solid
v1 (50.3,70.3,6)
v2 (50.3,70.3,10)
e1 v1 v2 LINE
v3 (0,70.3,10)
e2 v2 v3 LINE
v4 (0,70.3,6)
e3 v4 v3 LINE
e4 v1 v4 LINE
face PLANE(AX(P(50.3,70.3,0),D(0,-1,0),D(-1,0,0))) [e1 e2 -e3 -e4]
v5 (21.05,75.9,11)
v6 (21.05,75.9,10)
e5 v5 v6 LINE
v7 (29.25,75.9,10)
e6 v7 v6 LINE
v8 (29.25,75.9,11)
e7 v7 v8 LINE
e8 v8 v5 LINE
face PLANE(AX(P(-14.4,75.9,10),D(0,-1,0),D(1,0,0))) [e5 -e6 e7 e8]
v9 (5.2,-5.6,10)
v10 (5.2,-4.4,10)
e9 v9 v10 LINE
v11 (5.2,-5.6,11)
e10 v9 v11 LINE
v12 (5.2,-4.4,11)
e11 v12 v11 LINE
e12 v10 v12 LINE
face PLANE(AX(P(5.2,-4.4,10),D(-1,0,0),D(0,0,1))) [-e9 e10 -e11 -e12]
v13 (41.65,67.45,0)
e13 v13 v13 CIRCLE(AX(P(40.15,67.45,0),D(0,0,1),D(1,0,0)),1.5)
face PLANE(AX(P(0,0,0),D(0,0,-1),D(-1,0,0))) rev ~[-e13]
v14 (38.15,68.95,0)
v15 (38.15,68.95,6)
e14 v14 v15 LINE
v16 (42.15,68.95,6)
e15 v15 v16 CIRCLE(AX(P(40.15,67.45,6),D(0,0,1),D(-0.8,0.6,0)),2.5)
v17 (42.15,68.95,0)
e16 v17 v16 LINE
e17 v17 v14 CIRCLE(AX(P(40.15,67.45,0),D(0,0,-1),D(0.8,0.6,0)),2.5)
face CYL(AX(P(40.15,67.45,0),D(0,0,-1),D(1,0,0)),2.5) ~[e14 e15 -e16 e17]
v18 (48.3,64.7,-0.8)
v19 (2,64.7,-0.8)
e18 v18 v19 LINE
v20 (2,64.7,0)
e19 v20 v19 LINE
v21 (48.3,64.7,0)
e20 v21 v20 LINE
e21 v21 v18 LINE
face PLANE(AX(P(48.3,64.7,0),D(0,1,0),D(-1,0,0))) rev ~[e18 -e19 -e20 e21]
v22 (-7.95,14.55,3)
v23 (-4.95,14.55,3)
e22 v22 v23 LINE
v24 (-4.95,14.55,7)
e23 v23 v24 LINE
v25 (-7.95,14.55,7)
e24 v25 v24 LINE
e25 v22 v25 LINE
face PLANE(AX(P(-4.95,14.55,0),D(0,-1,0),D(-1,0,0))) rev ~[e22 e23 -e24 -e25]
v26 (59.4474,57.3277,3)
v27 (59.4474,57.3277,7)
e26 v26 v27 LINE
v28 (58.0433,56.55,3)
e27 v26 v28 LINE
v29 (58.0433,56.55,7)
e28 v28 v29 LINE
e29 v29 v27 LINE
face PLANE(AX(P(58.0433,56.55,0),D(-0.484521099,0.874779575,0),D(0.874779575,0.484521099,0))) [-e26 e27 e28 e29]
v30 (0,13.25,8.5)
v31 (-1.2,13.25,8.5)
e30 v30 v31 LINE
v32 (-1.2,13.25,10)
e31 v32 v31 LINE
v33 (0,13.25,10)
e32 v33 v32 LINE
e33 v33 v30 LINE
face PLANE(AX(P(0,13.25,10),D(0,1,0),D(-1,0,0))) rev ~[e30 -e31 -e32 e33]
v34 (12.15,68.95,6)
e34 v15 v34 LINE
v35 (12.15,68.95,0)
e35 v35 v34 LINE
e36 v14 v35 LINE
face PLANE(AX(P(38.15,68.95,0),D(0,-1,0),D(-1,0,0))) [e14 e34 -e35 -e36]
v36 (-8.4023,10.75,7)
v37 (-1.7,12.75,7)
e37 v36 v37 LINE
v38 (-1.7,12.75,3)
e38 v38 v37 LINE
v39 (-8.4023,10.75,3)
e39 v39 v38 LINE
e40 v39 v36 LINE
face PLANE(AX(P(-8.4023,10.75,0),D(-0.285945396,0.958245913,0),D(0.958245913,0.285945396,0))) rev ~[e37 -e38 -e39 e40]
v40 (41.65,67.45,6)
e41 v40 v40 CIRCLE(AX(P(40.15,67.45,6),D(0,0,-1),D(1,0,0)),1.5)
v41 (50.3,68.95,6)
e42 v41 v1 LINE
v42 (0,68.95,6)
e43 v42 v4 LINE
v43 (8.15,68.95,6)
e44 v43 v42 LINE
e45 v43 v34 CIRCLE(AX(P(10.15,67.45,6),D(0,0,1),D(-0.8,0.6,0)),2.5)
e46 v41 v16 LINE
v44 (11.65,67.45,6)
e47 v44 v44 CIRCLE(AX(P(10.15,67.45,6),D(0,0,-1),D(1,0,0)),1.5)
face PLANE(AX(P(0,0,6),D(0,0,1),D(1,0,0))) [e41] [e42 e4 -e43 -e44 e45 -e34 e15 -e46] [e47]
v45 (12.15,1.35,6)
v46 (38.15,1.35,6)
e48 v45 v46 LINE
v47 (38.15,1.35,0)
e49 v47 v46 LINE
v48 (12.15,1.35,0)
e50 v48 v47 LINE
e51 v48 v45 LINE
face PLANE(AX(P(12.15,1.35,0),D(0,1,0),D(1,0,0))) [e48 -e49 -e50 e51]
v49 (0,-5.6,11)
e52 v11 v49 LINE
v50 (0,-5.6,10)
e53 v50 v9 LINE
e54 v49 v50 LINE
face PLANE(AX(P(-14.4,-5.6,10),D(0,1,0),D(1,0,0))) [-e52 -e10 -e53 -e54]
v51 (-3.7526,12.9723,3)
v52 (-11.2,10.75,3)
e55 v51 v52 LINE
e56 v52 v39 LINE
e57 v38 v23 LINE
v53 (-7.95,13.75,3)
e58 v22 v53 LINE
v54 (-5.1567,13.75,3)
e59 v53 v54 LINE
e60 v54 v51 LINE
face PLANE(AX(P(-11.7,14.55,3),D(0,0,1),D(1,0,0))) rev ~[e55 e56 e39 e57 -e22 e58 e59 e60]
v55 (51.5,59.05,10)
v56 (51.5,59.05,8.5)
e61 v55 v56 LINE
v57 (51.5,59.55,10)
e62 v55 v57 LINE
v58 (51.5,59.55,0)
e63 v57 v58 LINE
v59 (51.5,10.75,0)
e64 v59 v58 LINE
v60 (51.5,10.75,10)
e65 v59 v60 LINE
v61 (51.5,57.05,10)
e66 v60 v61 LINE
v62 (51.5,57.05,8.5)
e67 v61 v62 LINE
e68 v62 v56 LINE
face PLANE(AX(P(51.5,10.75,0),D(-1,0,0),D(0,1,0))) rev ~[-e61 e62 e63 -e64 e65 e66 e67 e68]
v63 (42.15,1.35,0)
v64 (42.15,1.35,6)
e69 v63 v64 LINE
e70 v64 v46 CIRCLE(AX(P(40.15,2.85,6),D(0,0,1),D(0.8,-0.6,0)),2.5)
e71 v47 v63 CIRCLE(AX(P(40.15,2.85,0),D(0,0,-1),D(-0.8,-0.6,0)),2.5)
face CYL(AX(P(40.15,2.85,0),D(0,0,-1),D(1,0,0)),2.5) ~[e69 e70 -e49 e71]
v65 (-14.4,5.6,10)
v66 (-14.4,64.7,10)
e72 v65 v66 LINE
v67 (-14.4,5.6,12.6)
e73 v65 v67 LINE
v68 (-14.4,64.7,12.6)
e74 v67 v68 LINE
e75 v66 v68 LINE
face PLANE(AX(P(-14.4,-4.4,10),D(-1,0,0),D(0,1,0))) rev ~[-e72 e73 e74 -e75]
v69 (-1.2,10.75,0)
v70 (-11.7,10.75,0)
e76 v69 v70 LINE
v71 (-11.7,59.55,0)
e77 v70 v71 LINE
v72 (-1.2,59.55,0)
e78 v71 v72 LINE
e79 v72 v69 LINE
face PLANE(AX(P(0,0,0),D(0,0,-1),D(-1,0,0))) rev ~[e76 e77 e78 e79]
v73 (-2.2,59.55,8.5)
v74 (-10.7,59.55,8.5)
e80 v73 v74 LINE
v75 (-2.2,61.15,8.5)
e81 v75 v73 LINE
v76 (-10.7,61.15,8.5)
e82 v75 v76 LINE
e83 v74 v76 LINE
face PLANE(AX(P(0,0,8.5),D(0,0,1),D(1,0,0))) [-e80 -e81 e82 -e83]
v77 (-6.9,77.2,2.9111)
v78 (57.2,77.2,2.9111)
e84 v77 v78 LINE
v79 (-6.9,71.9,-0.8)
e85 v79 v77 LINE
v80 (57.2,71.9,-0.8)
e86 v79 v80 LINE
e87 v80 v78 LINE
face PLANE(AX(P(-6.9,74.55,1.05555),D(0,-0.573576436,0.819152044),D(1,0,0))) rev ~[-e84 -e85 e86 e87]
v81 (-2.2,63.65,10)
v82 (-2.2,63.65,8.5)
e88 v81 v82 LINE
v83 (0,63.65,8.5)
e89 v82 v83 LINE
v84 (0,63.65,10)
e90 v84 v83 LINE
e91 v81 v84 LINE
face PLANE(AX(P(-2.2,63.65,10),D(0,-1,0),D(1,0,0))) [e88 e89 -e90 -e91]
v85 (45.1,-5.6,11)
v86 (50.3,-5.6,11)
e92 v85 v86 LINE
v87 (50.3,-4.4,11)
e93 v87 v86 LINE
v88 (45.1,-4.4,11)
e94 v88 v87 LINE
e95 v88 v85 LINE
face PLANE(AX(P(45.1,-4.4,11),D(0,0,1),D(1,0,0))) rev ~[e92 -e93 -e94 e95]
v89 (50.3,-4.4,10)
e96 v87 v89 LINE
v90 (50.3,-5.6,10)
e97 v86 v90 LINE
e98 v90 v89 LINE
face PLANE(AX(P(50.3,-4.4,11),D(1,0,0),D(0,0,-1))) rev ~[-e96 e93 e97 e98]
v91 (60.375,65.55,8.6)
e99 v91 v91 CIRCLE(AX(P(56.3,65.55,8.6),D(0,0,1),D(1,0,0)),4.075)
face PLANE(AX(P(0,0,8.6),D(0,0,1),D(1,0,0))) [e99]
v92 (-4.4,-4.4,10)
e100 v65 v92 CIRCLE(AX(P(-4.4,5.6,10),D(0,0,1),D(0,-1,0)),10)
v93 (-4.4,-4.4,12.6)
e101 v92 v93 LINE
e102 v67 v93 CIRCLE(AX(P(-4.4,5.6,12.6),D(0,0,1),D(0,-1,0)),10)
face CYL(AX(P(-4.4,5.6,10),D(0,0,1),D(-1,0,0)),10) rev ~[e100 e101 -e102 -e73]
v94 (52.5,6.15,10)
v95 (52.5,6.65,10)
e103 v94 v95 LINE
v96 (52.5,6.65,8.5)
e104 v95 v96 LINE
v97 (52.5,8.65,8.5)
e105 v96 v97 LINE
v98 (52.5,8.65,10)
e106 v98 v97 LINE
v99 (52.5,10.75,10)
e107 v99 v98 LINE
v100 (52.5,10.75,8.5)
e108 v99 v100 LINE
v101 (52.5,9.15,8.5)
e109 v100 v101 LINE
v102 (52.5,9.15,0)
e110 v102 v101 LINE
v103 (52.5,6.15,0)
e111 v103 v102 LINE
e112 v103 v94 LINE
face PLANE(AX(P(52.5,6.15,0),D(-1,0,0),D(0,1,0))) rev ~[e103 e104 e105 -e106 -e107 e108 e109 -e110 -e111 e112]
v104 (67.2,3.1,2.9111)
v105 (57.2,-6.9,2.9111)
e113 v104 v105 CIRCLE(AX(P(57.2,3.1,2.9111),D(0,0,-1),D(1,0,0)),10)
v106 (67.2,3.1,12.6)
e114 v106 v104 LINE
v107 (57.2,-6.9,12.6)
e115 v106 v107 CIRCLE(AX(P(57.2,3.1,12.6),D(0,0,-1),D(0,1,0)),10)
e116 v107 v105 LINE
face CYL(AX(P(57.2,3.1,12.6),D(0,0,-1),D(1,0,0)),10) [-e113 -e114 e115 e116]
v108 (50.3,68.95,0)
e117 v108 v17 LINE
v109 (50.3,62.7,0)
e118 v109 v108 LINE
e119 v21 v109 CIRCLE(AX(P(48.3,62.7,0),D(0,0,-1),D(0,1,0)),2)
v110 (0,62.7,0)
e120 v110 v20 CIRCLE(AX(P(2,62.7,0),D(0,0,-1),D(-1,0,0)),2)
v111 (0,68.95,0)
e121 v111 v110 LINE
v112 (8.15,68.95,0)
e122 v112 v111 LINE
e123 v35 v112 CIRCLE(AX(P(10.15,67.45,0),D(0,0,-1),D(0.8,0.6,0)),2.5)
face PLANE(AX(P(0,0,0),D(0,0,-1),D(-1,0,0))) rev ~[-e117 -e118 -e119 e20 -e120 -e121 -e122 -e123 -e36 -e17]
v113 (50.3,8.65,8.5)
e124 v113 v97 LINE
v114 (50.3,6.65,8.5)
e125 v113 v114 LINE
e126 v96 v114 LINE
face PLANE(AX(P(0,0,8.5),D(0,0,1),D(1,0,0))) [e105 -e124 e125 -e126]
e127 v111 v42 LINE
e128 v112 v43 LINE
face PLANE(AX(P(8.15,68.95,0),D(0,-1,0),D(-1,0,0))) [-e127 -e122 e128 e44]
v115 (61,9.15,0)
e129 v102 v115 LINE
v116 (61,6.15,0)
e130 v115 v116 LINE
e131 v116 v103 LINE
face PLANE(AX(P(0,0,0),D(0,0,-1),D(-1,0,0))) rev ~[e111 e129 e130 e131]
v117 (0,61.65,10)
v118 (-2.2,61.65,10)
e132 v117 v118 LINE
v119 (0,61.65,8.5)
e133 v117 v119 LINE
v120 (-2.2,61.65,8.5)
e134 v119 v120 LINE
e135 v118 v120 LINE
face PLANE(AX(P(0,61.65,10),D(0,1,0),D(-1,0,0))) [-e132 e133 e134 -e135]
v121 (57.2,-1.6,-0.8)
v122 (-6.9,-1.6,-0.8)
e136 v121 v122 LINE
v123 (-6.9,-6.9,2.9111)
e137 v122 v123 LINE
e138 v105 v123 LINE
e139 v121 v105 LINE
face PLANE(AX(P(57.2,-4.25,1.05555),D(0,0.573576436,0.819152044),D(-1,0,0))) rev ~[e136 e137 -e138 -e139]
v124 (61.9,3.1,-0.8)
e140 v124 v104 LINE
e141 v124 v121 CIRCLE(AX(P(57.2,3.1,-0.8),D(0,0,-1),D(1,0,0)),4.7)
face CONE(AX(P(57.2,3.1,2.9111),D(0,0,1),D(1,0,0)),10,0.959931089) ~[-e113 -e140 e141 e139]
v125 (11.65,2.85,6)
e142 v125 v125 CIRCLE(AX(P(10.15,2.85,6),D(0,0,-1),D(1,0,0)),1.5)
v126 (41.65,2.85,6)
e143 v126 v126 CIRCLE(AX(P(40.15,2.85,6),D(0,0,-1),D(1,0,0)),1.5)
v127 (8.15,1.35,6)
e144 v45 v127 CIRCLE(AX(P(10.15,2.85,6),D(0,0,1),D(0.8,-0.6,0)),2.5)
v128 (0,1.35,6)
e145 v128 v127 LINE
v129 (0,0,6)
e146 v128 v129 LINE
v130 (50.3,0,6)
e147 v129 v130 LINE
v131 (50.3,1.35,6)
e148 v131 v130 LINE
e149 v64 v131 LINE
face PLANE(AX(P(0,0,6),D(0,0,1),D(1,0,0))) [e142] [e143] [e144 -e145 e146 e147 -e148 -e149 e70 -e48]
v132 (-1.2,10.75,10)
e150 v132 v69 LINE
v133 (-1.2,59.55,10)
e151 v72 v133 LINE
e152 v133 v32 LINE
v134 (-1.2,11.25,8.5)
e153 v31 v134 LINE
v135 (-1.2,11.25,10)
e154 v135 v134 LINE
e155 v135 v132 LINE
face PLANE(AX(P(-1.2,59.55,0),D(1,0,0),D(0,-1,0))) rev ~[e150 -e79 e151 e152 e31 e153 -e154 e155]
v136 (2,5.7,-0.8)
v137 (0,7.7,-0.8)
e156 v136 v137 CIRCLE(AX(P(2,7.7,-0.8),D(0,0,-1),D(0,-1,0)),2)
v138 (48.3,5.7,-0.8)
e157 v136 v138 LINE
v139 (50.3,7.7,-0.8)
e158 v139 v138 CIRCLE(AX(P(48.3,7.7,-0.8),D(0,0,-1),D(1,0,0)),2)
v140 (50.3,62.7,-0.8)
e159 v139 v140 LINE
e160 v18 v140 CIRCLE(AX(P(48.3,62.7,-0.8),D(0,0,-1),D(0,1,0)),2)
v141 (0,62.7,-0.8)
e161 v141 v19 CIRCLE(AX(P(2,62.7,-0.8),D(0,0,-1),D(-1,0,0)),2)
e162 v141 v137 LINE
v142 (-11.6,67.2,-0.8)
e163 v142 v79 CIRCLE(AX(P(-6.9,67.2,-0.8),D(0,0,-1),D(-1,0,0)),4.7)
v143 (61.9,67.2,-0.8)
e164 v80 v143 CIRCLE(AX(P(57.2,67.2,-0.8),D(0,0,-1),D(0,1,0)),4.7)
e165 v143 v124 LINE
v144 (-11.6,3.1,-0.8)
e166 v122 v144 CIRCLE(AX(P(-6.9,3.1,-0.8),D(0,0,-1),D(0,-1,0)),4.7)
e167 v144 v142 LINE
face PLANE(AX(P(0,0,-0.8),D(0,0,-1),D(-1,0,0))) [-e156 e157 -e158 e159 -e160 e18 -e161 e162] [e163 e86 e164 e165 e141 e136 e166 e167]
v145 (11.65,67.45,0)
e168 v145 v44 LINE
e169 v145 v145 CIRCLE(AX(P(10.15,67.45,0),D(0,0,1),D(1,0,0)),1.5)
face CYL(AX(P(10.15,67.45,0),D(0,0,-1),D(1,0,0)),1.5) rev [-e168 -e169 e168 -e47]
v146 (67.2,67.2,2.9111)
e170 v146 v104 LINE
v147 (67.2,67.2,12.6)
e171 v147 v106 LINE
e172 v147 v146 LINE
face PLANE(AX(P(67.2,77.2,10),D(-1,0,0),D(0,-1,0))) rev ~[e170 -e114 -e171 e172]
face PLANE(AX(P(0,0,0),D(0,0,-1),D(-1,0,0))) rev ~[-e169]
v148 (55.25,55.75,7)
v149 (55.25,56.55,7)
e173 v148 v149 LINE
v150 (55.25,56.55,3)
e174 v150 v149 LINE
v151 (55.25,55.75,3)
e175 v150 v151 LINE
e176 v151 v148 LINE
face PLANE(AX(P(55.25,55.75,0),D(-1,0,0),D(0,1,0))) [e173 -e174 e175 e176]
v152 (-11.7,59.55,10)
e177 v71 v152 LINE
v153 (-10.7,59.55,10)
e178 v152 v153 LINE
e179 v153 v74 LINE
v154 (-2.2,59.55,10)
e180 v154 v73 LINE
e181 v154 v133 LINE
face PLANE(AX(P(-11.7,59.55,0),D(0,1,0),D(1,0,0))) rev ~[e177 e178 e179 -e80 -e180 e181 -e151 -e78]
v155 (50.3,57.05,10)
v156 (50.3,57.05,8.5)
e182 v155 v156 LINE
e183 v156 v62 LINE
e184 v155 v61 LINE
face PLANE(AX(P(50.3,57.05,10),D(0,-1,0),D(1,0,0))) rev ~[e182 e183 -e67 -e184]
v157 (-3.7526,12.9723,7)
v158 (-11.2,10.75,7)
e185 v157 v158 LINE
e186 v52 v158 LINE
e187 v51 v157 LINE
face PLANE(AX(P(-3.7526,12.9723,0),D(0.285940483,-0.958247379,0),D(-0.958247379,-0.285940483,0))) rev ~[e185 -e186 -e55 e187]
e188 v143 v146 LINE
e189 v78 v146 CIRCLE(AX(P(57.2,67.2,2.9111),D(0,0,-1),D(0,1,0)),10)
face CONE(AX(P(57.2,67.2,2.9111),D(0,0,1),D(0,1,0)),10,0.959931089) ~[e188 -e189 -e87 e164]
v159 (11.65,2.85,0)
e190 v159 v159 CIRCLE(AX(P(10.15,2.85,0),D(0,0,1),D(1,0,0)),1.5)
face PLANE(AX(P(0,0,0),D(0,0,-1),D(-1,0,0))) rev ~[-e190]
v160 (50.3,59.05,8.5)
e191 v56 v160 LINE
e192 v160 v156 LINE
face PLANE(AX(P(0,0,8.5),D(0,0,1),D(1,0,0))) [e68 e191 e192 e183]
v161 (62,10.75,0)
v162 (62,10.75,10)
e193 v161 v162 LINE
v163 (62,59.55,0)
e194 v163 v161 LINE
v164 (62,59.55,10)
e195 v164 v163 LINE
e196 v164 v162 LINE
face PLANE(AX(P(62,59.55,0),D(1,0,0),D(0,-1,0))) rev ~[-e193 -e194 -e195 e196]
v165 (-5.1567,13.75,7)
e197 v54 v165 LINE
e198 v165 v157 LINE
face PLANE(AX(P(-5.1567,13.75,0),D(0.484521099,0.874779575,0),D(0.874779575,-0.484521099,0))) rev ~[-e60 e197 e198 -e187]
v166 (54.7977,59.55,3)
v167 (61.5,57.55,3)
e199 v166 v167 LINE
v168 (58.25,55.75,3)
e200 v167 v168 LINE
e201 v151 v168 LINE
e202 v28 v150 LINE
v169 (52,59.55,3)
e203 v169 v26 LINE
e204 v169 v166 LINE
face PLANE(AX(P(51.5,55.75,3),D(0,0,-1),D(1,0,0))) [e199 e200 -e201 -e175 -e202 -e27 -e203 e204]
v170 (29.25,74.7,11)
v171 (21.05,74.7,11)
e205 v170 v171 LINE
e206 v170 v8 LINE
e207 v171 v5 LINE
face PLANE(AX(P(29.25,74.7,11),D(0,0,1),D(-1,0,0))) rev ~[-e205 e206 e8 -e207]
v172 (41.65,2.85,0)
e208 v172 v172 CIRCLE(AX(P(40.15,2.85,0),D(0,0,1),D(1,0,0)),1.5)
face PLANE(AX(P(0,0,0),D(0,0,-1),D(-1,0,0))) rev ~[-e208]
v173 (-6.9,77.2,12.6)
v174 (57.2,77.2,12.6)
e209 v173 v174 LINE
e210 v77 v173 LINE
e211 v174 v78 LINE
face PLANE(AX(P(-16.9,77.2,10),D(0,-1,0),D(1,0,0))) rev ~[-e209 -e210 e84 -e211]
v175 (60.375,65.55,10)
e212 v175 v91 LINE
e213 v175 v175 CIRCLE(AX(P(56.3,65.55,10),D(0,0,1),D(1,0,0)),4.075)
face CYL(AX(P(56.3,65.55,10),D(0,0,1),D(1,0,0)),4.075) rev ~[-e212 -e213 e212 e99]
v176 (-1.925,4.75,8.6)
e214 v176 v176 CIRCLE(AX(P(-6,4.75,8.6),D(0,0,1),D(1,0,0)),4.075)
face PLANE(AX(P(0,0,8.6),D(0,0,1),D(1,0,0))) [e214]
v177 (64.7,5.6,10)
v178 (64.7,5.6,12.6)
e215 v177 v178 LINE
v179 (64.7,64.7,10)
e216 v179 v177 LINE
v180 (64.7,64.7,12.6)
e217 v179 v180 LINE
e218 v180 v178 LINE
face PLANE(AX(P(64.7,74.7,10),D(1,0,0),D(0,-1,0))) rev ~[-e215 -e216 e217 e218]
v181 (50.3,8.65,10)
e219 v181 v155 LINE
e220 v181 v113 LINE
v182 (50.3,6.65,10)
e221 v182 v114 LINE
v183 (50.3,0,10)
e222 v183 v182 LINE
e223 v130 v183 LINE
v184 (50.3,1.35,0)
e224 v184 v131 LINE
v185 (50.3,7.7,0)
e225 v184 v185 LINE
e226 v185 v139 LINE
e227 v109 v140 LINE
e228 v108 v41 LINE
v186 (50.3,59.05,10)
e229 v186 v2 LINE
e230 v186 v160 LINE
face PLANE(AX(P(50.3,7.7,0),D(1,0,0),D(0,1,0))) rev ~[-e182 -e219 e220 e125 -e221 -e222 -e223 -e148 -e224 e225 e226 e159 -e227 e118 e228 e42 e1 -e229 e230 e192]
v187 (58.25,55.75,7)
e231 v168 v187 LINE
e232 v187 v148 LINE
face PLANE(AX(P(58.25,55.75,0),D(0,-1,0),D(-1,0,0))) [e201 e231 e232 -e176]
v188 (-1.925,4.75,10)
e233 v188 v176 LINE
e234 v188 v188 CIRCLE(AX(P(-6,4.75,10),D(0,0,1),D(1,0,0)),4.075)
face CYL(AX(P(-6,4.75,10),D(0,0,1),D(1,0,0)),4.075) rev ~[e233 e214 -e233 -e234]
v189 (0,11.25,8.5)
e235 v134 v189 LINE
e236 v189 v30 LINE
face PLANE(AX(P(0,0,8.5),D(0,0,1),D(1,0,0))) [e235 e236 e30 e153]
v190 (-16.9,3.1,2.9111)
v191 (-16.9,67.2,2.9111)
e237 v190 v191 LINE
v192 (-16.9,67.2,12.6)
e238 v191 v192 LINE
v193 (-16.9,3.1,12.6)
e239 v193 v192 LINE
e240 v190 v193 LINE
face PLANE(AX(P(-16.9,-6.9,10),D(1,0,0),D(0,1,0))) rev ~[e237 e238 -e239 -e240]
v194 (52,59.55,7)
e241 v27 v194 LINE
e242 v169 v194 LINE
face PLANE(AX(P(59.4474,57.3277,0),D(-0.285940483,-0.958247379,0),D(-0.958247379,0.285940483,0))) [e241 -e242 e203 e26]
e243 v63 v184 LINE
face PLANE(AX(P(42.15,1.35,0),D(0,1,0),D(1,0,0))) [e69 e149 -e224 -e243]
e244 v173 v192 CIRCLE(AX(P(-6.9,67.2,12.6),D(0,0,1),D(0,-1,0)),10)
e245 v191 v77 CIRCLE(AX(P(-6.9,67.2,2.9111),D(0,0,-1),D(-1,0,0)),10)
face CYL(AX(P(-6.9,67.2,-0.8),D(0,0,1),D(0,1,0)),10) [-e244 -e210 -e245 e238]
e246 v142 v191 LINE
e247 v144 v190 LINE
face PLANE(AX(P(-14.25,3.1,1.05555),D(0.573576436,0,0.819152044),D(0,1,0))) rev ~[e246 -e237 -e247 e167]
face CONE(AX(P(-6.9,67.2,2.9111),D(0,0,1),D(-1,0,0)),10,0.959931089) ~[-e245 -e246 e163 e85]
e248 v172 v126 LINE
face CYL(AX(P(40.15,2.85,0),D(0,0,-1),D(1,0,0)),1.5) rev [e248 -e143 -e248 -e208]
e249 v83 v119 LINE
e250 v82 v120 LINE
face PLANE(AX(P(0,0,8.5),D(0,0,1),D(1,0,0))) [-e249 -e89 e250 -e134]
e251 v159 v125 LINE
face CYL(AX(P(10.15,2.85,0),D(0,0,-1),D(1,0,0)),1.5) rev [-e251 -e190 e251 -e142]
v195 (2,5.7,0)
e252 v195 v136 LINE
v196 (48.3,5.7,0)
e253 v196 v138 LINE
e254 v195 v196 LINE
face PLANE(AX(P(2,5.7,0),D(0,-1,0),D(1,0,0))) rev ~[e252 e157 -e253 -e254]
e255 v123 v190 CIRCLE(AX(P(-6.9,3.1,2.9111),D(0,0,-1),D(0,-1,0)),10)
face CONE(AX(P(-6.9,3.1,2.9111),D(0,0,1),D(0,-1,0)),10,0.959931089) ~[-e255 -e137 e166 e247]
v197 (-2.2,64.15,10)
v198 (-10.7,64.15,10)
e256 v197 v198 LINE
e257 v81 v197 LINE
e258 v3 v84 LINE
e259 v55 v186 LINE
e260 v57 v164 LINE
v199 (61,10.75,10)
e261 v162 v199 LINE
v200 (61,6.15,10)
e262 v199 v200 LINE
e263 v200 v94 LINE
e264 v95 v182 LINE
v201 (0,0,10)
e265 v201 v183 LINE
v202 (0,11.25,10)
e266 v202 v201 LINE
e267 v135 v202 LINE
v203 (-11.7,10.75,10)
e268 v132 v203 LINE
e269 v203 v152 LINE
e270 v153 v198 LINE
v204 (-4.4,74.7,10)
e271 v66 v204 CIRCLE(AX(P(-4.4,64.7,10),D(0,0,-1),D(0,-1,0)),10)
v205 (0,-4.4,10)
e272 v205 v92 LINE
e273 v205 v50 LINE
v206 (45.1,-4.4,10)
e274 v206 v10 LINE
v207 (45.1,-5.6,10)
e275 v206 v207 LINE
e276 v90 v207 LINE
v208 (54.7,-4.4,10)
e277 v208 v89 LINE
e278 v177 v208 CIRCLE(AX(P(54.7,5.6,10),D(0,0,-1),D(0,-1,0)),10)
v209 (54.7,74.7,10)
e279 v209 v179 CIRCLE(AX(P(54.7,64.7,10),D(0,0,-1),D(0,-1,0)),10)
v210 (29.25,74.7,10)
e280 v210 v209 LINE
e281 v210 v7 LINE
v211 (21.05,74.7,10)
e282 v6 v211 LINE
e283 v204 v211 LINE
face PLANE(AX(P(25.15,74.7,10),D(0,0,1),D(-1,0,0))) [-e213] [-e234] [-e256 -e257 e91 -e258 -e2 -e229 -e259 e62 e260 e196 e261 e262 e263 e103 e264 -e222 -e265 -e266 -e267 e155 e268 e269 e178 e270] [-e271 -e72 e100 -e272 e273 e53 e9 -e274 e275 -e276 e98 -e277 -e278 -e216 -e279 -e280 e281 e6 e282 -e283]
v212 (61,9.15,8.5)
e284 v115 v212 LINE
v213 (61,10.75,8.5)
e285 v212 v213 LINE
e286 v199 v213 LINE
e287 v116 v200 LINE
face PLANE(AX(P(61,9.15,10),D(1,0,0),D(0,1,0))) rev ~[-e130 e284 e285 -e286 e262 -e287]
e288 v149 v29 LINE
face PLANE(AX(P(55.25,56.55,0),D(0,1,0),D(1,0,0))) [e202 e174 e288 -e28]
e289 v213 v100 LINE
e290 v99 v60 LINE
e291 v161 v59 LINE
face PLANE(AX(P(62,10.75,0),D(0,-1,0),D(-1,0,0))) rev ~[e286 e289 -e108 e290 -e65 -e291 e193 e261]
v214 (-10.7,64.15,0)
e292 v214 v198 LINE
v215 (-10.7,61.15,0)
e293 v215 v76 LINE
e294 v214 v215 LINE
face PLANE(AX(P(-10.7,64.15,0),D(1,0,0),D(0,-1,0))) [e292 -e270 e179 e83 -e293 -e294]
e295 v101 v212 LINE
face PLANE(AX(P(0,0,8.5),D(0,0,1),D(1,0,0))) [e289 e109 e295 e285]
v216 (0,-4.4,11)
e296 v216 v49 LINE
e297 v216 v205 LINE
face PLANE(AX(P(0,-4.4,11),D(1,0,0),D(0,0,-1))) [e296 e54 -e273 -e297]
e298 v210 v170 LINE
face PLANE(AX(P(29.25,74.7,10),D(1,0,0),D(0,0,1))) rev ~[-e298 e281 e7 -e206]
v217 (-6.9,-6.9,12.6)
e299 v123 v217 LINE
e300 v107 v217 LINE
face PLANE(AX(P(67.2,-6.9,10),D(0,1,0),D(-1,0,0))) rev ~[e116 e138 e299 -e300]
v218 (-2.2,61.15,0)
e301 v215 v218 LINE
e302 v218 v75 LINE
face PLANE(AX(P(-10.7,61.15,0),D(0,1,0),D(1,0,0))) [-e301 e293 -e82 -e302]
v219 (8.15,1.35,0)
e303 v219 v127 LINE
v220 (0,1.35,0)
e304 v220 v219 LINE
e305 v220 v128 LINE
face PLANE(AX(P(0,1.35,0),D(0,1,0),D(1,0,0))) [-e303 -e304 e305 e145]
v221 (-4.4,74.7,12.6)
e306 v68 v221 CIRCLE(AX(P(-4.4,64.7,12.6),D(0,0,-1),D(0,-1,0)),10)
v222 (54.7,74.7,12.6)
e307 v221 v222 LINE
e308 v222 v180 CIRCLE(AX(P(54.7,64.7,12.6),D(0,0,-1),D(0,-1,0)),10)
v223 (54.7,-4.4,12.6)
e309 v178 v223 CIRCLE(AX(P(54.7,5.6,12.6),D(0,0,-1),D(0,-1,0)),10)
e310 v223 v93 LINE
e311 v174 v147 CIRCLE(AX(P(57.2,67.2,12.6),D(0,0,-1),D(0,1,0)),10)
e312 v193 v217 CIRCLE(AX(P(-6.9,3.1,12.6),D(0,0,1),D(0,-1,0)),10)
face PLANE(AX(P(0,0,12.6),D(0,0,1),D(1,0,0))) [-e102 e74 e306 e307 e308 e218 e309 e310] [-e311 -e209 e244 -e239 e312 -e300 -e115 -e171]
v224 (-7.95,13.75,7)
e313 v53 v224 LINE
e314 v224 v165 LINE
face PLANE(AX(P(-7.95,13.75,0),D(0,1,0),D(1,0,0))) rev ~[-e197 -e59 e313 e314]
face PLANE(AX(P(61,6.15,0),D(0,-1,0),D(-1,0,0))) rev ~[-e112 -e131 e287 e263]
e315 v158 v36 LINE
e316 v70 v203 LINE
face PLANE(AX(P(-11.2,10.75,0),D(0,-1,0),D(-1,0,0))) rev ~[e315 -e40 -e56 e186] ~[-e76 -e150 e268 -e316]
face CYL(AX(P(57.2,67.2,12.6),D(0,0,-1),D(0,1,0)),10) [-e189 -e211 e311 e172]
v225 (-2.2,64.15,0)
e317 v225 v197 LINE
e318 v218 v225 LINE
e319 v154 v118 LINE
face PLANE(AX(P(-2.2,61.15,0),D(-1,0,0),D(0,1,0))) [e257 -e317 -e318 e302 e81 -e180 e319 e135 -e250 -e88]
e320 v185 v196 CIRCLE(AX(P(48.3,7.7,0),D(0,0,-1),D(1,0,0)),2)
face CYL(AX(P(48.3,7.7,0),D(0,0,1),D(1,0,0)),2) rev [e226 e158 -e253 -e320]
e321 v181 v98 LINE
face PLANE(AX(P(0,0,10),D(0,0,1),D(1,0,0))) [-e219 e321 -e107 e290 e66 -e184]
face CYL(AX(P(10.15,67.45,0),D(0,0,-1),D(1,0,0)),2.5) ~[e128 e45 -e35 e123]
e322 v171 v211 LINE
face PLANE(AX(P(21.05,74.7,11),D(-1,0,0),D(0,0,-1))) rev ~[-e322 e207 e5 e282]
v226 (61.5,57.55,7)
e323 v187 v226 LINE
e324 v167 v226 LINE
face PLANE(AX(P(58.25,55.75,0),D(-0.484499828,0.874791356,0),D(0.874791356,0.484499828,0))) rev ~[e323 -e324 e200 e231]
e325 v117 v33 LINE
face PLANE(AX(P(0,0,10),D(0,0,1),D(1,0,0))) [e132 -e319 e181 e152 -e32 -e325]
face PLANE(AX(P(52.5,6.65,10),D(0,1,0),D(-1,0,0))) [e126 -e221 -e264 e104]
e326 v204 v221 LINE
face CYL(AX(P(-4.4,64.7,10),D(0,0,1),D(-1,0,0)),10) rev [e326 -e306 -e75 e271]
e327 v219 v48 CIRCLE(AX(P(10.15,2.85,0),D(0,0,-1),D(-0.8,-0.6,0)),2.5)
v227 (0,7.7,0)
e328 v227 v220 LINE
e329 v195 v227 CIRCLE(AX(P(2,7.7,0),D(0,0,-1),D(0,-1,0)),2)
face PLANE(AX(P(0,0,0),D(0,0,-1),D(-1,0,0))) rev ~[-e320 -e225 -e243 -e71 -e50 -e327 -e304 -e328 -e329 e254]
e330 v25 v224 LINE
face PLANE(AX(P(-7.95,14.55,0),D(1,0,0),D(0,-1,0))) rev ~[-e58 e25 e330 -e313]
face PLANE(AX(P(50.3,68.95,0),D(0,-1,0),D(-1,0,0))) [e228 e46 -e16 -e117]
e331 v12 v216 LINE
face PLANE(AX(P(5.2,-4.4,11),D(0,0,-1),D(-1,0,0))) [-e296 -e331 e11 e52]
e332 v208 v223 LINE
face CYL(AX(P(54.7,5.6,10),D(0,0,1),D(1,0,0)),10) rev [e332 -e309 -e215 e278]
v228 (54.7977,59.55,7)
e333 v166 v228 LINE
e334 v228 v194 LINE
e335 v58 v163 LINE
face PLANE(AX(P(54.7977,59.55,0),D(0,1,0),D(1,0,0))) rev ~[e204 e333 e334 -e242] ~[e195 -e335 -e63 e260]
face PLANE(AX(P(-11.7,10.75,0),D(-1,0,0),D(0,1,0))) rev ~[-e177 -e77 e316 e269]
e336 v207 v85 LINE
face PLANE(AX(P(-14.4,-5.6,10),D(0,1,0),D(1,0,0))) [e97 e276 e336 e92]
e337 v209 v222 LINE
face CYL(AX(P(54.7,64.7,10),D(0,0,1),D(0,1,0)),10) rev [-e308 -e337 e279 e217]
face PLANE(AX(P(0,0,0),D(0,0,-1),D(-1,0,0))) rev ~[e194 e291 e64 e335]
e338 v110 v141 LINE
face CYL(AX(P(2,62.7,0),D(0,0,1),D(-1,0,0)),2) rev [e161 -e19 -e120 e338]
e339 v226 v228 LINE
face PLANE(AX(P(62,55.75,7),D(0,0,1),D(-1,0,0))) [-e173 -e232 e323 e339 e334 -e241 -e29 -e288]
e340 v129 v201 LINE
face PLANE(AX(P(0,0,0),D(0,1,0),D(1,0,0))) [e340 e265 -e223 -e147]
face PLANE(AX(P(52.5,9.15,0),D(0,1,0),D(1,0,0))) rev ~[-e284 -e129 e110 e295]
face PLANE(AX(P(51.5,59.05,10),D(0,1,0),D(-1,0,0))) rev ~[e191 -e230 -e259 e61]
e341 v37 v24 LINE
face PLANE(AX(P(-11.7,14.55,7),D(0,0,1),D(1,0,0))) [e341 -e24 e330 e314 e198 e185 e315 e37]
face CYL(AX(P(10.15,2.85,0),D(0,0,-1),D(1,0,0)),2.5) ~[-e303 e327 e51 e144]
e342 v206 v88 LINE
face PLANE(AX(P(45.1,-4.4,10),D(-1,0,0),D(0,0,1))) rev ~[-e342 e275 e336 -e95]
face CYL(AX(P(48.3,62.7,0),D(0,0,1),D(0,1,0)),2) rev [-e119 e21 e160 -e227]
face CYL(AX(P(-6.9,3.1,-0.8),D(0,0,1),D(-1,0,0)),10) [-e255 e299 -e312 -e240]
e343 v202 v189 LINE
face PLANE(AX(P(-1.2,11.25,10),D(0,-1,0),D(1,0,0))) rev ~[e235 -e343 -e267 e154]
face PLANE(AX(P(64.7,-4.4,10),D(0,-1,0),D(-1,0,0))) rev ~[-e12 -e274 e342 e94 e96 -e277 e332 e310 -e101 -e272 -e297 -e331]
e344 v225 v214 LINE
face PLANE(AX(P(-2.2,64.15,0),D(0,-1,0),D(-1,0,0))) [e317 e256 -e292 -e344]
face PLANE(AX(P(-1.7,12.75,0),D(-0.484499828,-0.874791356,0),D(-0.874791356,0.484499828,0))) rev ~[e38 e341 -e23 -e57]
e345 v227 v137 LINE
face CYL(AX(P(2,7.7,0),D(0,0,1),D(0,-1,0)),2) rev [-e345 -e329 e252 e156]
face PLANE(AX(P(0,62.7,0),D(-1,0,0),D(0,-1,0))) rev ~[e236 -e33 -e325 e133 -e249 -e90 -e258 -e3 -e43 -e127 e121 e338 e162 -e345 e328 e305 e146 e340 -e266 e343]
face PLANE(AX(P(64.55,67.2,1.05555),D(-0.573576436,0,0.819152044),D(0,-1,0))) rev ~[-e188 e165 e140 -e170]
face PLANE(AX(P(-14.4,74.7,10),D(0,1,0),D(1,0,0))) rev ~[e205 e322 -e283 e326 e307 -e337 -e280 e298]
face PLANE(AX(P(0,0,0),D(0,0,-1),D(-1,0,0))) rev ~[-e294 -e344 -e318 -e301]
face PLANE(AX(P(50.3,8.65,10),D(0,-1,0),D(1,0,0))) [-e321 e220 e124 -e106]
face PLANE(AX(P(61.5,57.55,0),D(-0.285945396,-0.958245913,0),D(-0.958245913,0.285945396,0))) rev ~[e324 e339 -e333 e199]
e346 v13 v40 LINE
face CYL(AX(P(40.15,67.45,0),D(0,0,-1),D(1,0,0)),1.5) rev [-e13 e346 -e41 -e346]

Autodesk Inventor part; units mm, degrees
ref_plane "YZ Plane" through (0, 0, 0) normal (1, 0, 0) x (0, 1, 0)
ref_plane "XZ Plane" through (0, 0, 0) normal (0, 1, 0) x (-1, 0, 0)
ref_plane "XY Plane" through (0, 0, 0) normal (0, 0, 1) x (1, 0, 0)
sketch "Skizze1" plane through (0, 0, 0) normal (0, 0, 1) x (1, 0, 0)
  line L0 (0, 0) -> (50.3, 0)
  line L1 (50.3, 0) -> (50.3, 70.3)
  line L2 (50.3, 70.3) -> (0, 70.3)
  line L3 (0, 70.3) -> (0, 0)
  line L4 (-15, 75.3) -> (65.3, 75.3)
  line L5 (65.3, 75.3) -> (65.3, -5)
  line L6 (65.3, -5) -> (-15, -5)
  line L7 (-15, -5) -> (-15, 75.3)
  line L8 (-11.7, 59.55) -> (-1.2, 59.55)
  line L9 (-1.2, 59.55) -> (-1.2, 10.75)
  line L10 (-1.2, 10.75) -> (-11.7, 10.75)
  line L11 (-11.7, 10.75) -> (-11.7, 59.55)
  line L12 (51.5, 59.55) -> (62, 59.55)
  line L13 (62, 59.55) -> (62, 10.75)
  line L14 (62, 10.75) -> (51.5, 10.75)
  line L15 (51.5, 10.75) -> (51.5, 59.55)
  line L16 (-6.45, 59.55) -> (-6.45, 75.3) construction
  line L17 (-6.45, 10.75) -> (-6.45, -5) construction
  line L18 (56.75, 59.55) -> (56.75, 75.3) construction
  line L19 (56.75, 10.75) -> (56.75, -5) construction
  line L20 (-11.7, 35.15) -> (-15, 35.15) construction
  line L21 (62, 35.15) -> (65.3, 35.15) construction
  line L22 (-8.4023, 10.75) -> (-1.7, 12.75)
  line L23 (-1.7, 12.75) -> (-4.95, 14.55)
  line L24 (-4.95, 14.55) -> (-7.95, 14.55)
  line L25 (-7.95, 14.55) -> (-7.95, 13.75)
  line L26 (-7.95, 13.75) -> (-5.1567, 13.75)
  line L27 (-5.1567, 13.75) -> (-3.7526, 12.9723)
  line L28 (-3.7526, 12.9723) -> (-11.2, 10.75)
  line L29 (58.25, 55.75) -> (55.25, 55.75)
  line L30 (55.25, 55.75) -> (55.25, 56.55)
  line L31 (55.25, 56.55) -> (58.0433, 56.55)
  line L32 (61.5, 57.55) -> (54.7977, 59.55)
  line L33 (59.4474, 57.3277) -> (52, 59.55)
  line L34 (58.0433, 56.55) -> (59.4474, 57.3277)
  line L35 (58.25, 55.75) -> (61.5, 57.55)
  line L36 (-10.7, 61.15) -> (-2.2, 61.15)
  line L37 (-2.2, 61.15) -> (-2.2, 64.15)
  line L38 (-2.2, 64.15) -> (-10.7, 64.15)
  line L39 (-10.7, 64.15) -> (-10.7, 61.15)
  line L40 (61, 6.15) -> (52.5, 6.15)
  line L41 (52.5, 6.15) -> (52.5, 9.15)
  line L42 (52.5, 9.15) -> (61, 9.15)
  line L43 (61, 9.15) -> (61, 6.15)
  dimension "d0" = 50.3
  dimension "d1" = 70.3
  dimension "d2" = 5
  dimension "d3" = 5
  dimension "d4" = 10.5
  dimension "d5" = 10.5
  dimension "d6" = 48.8
  dimension "d7" = 48.8
  dimension "d8" = 1.2
  dimension "d9" = 1.2
  dimension "d11" = 0.8
  dimension "d12" = 0.8
  dimension "d13" = 0.8
  dimension "d14" = 3
  dimension "d15" = 3.75
  dimension "d16" = 2
  dimension "d17" = 3
  dimension "d18" = 0.5
  dimension "d19" = 0.5
  dimension "d20" = 0.8
  dimension "d22" = 0.5
  dimension "d23" = 3
  dimension "d26" = 3.75
  dimension "d27" = 2
  dimension "d28" = 0.5
  dimension "d30" = 3
  dimension "d31" = 0.8
  dimension "d32" = 0.8
  dimension "d33" = 1.6
  dimension "d34" = 1
  dimension "d35" = 1
  dimension "d36" = 3
  dimension "d37" = 3
  dimension "d38" = 1
  dimension "d39" = 1
  dimension "d40" = 1.6
extrude "Extrusion1" add sketch "Skizze1" along normal blind 10 contours L4 L5 L6 L7 | L28 L27 L26 L25 L24 L23 L22 L10 | L12 L32 L35 L29 L30 L31 L34 L33
sketch "Skizze2" plane through (0, 0, 0) normal (0, 0, -1) x (-1, 0, 0)
  line L0 (-65.3, 75.3) -> (15, 75.3) projected
  line L1 (15, 75.3) -> (15, -5) projected
  line L2 (-65.3, 75.3) -> (15, 75.3)
  line L3 (15, 75.3) -> (15, -5)
  line L4 (15, -5) -> (-65.3, -5)
  line L5 (-65.3, -5) -> (-65.3, 75.3)
  line L6 (0, 70.3) -> (0, 0) projected
  line L7 (-48.3, 64.7) -> (-2, 64.7)
  line L8 (0, 62.7) -> (0, 7.7)
  line L9 (-2, 5.7) -> (-48.3, 5.7)
  line L10 (-50.3, 7.7) -> (-50.3, 62.7)
  line L11 (-50.3, 70.3) -> (0, 70.3) projected
  line L12 (-50.3, 0) -> (-50.3, 70.3) construction
  arc A0 (-48.3, 64.7) -> (-50.3, 62.7) centre (-48.3, 62.7) ccw
  arc A1 (0, 62.7) -> (-2, 64.7) centre (-2, 62.7) ccw
  arc A2 (-50.3, 7.7) -> (-48.3, 5.7) centre (-48.3, 7.7) ccw
  arc A3 (-2, 5.7) -> (0, 7.7) centre (-2, 7.7) ccw
  point P0 (-50.3, 64.7)
  point P1 (0, 5.7)
  dimension "d43" = 5.6
  dimension "d44" = 59
  dimension "d45" = 2
extrude "Extrusion2" add sketch "Skizze2" along normal blind 0.8
sketch "Skizze7" plane through (0, 0, 10) normal (0, 0, 1) x (1, 0, 0)
  circle A0 centre (-6, 4.75) radius 4.075
  circle A1 centre (56.3, 65.55) radius 4.075
  line L0 (0, 0) -> (0, 70.3) projected
  line L1 (-1.2, 10.75) -> (-8.4023, 10.75) projected
  line L2 (50.3, 70.3) -> (50.3, 0) projected
  line L3 (54.7977, 59.55) -> (62, 59.55) projected
  dimension "d80" = 8.15
  dimension "d81" = 8.15
  dimension "d82" = 6
  dimension "d83" = 6
  dimension "d84" = 6
  dimension "d85" = 6
extrude "Extrusion7" cut sketch "Skizze7" against normal blind 1.4
sketch "Skizze8" plane through (55.25, 55.75, 10) normal (0, -1, 0) x (1, 0, 0)
  line L0 (-3.75, -10) -> (-3.75, 0) projected
  line L1 (6.75, -10) -> (-3.75, -10)
  line L2 (-3.75, -10) -> (-3.75, -7)
  line L3 (-3.75, -7) -> (6.75, -7)
  line L4 (6.75, -7) -> (6.75, -10)
  line L5 (-3.75, 0) -> (6.75, 0)
  line L6 (6.75, 0) -> (6.75, -3)
  line L7 (6.75, -3) -> (-3.75, -3)
  line L8 (-3.75, -3) -> (-3.75, 0)
  point P0 (-55.25, -10)
  dimension "d88" = 3
  dimension "d89" = 3
extrude "Extrusion8" cut sketch "Skizze8" against normal blind 3.8
sketch "Skizze9" plane through (-7.95, 14.55, 10) normal (0, 1, 0) x (1, 0, 0)
  line L0 (-3.75, 10) -> (-3.75, 0) projected
  line L1 (6.75, 10) -> (-3.75, 10)
  line L2 (-3.75, 10) -> (-3.75, 7)
  line L3 (-3.75, 7) -> (6.75, 7)
  line L4 (6.75, 7) -> (6.75, 10)
  line L5 (6.75, 0) -> (-3.75, 0)
  line L6 (-3.75, 0) -> (-3.75, 3)
  line L7 (-3.75, 3) -> (6.75, 3)
  line L8 (6.75, 3) -> (6.75, 0)
  point P0 (7.95, 10)
  dimension "d92" = 3
  dimension "d93" = 3
extrude "Extrusion9" cut sketch "Skizze9" against normal blind 3.8
sketch "Skizze10" plane through (0, 0, 10) normal (0, 0, 1) x (1, 0, 0)
  line L0 (52.5, 9.15) -> (61, 9.15) projected
  line L1 (62, 10.75) -> (51.5, 10.75) projected
  line L2 (52.5, 9.15) -> (61, 9.15)
  line L3 (61, 9.15) -> (61, 10.75)
  line L4 (61, 10.75) -> (52.5, 10.75)
  line L5 (52.5, 10.75) -> (52.5, 9.15)
  line L6 (52.5, 6.15) -> (52.5, 9.15) projected
  line L7 (50.3, 70.3) -> (50.3, 0) projected
  line L8 (52.5, 6.65) -> (50.3, 6.65)
  line L9 (50.3, 6.65) -> (50.3, 8.65)
  line L10 (50.3, 8.65) -> (52.5, 8.65)
  line L11 (52.5, 8.65) -> (52.5, 6.65)
  line L12 (51.5, 10.75) -> (51.5, 59.55) projected
  line L13 (51.5, 59.05) -> (50.3, 59.05)
  line L14 (50.3, 59.05) -> (50.3, 57.05)
  line L15 (50.3, 57.05) -> (51.5, 57.05)
  line L16 (51.5, 57.05) -> (51.5, 59.05)
  line L17 (51.5, 59.55) -> (62, 59.55) projected
  line L18 (-1.2, 59.55) -> (-1.2, 10.75) projected
  line L19 (-1.2, 11.25) -> (0, 11.25)
  line L20 (0, 11.25) -> (0, 13.25)
  line L21 (0, 13.25) -> (-1.2, 13.25)
  line L22 (-1.2, 13.25) -> (-1.2, 11.25)
  line L23 (-1.2, 10.75) -> (-11.7, 10.75) projected
  line L24 (0, 0) -> (0, 70.3) construction
  line L25 (-2.2, 61.15) -> (-10.7, 61.15) projected
  line L26 (-10.7, 61.15) -> (-2.2, 61.15)
  line L27 (-2.2, 61.15) -> (-2.2, 59.55)
  line L28 (-2.2, 59.55) -> (-10.7, 59.55)
  line L29 (-10.7, 59.55) -> (-10.7, 61.15)
  line L30 (-2.2, 64.15) -> (-2.2, 61.15) projected
  line L31 (-2.2, 63.65) -> (0, 63.65)
  line L32 (0, 63.65) -> (0, 61.65)
  line L33 (0, 61.65) -> (-2.2, 61.65)
  line L34 (-2.2, 61.65) -> (-2.2, 63.65)
  dimension "d96" = 8.5
  dimension "d97" = 0.5
  dimension "d98" = 0.5
  dimension "d99" = 2
  dimension "d100" = 0.5
  dimension "d101" = 2
  dimension "d102" = 0.5
  dimension "d103" = 1.6
  dimension "d104" = 8.5
  dimension "d105" = 2
  dimension "d106" = 0.5
extrude "Extrusion10" cut sketch "Skizze10" against normal blind 1.5 contours L5 L1 L3 L0 | L6 L8 L7 L10 | L15 L7 L13 L12 | L21 L20 L19 L18 | L27 L28 L29 L25 | L30 L31 L32 L33
sketch "Skizze12" plane through (0, 0, 10) normal (0, 0, 1) x (1, 0, 0)
  line L0 (-15, -5) -> (65.3, -5)
  line L1 (65.3, -5) -> (65.3, 75.3)
  line L2 (65.3, 75.3) -> (-15, 75.3)
  line L3 (-15, 75.3) -> (-15, -5)
  line L4 (-15, 75.3) -> (-15, -5) projected
  line L5 (50.3, 57.05) -> (50.3, 8.65) projected
  line L6 (48.3, 5.7) -> (2, 5.7) projected
  line L7 (2, 64.7) -> (48.3, 64.7) projected
  line L8 (0, 0) -> (0, 11.25) projected
  line L9 (-11.7, 59.55) -> (-11.7, 10.75) projected
  line L10 (0, 0) -> (50.3, 0) projected
  line L11 (62, 59.55) -> (62, 10.75) projected
  line L12 (0, 70.3) -> (50.3, 70.3) projected
  line L13 (-16.9, 77.2) -> (67.2, 77.2)
  line L14 (67.2, 77.2) -> (67.2, -6.9)
  line L15 (67.2, -6.9) -> (-16.9, -6.9)
  line L16 (-16.9, -6.9) -> (-16.9, 77.2)
  line L17 (-14.4, 74.7) -> (64.7, 74.7)
  line L18 (64.7, 74.7) -> (64.7, -4.4)
  line L19 (64.7, -4.4) -> (-14.4, -4.4)
  line L20 (-14.4, -4.4) -> (-14.4, 74.7)
  point P0 (35.15, 0)
  point P1 (45.3, 70.3)
  dimension "d124" = 1.9
  dimension "d125" = 0.6
extrude "Extrusion12" add sketch "Skizze12" along normal blind 2.6 contours L3 L2 L1 L0 | L13 L14 L15 L16
sketch "Skizze13" plane through (-14.4, -4.4, 10) normal (0, 1, 0) x (1, 0, 0)
  line L0 (64.7, 10) -> (64.7, 0) projected
  line L1 (64.7, 0) -> (59.5, 0)
  line L2 (59.5, 0) -> (59.5, -1)
  line L3 (59.5, -1) -> (64.7, -1)
  line L4 (64.7, -1) -> (64.7, 0)
  line L5 (14.4, 10) -> (14.4, 0) projected
  line L6 (14.4, 0) -> (19.6, 0)
  line L7 (19.6, 0) -> (19.6, -1)
  line L8 (19.6, -1) -> (14.4, -1)
  line L9 (14.4, -1) -> (14.4, 0)
  dimension "d126" = 5.2
  dimension "d127" = 1
  dimension "d128" = 5.2
  dimension "d129" = 1
extrude "Extrusion13" cut sketch "Skizze13" against normal blind 1.2
sketch "Skizze14" plane through (-14.4, 74.7, 10) normal (0, -1, 0) x (1, 0, 0)
  line L0 (79.1, 0) -> (0, 0) projected
  line L1 (39.55, 0) -> (43.65, 0)
  line L2 (43.65, 0) -> (43.65, 1)
  line L3 (0, 2.6) -> (79.1, 2.6) projected
  line L4 (43.65, 1) -> (35.45, 1)
  line L5 (35.45, 1) -> (35.45, 0)
  line L6 (-2.5, 0) -> (81.6, 0) projected
  line L7 (35.45, 0) -> (39.55, 0)
  point P0 (14.4, -10)
  dimension "d132" = 4.1
  dimension "d133" = 1
  dimension "d134" = 8.2
extrude "Extrusion14" cut sketch "Skizze14" against normal blind 1.2
sketch "Skizze15" plane through (0, 0, 10) normal (0, 0, -1) x (-1, 0, 0)
  line L0 (-67.2, 77.2) -> (-67.2, -6.9) projected
  line L1 (-67.2, -6.9) -> (16.9, -6.9) projected
  line L2 (16.9, -6.9) -> (16.9, 77.2) projected
  line L3 (16.9, 77.2) -> (-67.2, 77.2) projected
  line L4 (15, 75.3) -> (-65.3, 75.3) projected
  line L5 (15, 75.3) -> (15, -5) projected
  line L6 (-65.3, 75.3) -> (15, 75.3)
  line L7 (15, 75.3) -> (15, -5)
  line L8 (15, -5) -> (-65.3, -5)
  line L9 (-65.3, -5) -> (-65.3, 75.3)
  point P0 (0, 0)
extrude "Extrusion15" add sketch "Skizze15" along normal blind 10.8
fillet "Rundung1" radius 10 8 edges at (64.7, -4.4, 11.3) (-14.4, -4.4, 11.3) (64.7, 74.7, 11.3) (-14.4, 74.7, 11.3) (67.2, 77.2, 5.9) (67.2, -6.9, 5.9) (-16.9, -6.9, 5.9) (-16.9, 77.2, 5.9)
chamfer "Fase3" distance 5.3 angle 35 4 edges at (25.15, -6.9, -0.8) (67.2, 35.15, -0.8) (25.15, 77.2, -0.8) (-16.9, 35.15, -0.8) measured on face at (61.5667, 26, -0.8)
sketch "Skizze17" plane through (0, 0, 0) normal (0, 0, 1) x (1, 0, 0)
  line L0 (0, 0) -> (50.3, 0) projected
  line L1 (0, 7.7) -> (0, 0) projected
  line L2 (50.3, 0) -> (0, 0)
  line L3 (0, 0) -> (0, 1.35)
  line L4 (0, 1.35) -> (50.3, 1.35)
  line L5 (50.3, 1.35) -> (50.3, 0)
  line L6 (50.3, 70.3) -> (0, 70.3) projected
  line L7 (50.3, 62.7) -> (50.3, 70.3) projected
  line L8 (0, 70.3) -> (50.3, 70.3)
  line L9 (50.3, 70.3) -> (50.3, 68.95)
  line L10 (50.3, 68.95) -> (0, 68.95)
  line L11 (0, 68.95) -> (0, 70.3)
  circle A0 centre (40.15, 2.85) radius 1.5
  line L12 (48.3, 5.7) -> (2, 5.7) projected
  circle A1 centre (10.15, 2.85) radius 2.5
  circle A2 centre (10.15, 67.45) radius 2.5
  circle A3 centre (40.15, 67.45) radius 2.5
  line L13 (50.3, 6.65) -> (50.3, 0) projected
  line L14 (0, 63.65) -> (0, 70.3) projected
  circle A4 centre (10.15, 2.85) radius 1.5
  circle A5 centre (10.15, 67.45) radius 1.5
  circle A6 centre (40.15, 67.45) radius 1.5
  circle A7 centre (40.15, 2.85) radius 2.5
  dimension "d147" = 1.35
  dimension "d148" = 1.35
  dimension "d149" = 3
  dimension "d150" = 2.85
  dimension "d151" = 5
  dimension "d152" = 5
  dimension "d153" = 5
  dimension "d154" = 2.85
  dimension "d155" = 10.15
  dimension "d156" = 10.15
  dimension "d157" = 2.85
  dimension "d158" = 10.15
  dimension "d159" = 10.15
  dimension "d160" = 2.85
  dimension "d161" = 3
  dimension "d162" = 5
  dimension "d163" = 3
  dimension "d164" = 3
extrude "Extrusion17" add sketch "Skizze17" along normal blind 6
equation "\"d3\" = d2"
equation "\"d5\" = d4"
equation "\"d7\" = d6"
equation "\"d22\" = d21"
equation "\"d35\" = d34"
equation "\"d39\" = d38"
equation "\"d81\" = d80"
equation "\"d83\" = d82"
equation "\"d84\" = d82"
equation "\"d85\" = d84"
equation "\"d89\" = d88"
equation "\"d93\" = d92"
equation "\"d21\" = 0.5"
